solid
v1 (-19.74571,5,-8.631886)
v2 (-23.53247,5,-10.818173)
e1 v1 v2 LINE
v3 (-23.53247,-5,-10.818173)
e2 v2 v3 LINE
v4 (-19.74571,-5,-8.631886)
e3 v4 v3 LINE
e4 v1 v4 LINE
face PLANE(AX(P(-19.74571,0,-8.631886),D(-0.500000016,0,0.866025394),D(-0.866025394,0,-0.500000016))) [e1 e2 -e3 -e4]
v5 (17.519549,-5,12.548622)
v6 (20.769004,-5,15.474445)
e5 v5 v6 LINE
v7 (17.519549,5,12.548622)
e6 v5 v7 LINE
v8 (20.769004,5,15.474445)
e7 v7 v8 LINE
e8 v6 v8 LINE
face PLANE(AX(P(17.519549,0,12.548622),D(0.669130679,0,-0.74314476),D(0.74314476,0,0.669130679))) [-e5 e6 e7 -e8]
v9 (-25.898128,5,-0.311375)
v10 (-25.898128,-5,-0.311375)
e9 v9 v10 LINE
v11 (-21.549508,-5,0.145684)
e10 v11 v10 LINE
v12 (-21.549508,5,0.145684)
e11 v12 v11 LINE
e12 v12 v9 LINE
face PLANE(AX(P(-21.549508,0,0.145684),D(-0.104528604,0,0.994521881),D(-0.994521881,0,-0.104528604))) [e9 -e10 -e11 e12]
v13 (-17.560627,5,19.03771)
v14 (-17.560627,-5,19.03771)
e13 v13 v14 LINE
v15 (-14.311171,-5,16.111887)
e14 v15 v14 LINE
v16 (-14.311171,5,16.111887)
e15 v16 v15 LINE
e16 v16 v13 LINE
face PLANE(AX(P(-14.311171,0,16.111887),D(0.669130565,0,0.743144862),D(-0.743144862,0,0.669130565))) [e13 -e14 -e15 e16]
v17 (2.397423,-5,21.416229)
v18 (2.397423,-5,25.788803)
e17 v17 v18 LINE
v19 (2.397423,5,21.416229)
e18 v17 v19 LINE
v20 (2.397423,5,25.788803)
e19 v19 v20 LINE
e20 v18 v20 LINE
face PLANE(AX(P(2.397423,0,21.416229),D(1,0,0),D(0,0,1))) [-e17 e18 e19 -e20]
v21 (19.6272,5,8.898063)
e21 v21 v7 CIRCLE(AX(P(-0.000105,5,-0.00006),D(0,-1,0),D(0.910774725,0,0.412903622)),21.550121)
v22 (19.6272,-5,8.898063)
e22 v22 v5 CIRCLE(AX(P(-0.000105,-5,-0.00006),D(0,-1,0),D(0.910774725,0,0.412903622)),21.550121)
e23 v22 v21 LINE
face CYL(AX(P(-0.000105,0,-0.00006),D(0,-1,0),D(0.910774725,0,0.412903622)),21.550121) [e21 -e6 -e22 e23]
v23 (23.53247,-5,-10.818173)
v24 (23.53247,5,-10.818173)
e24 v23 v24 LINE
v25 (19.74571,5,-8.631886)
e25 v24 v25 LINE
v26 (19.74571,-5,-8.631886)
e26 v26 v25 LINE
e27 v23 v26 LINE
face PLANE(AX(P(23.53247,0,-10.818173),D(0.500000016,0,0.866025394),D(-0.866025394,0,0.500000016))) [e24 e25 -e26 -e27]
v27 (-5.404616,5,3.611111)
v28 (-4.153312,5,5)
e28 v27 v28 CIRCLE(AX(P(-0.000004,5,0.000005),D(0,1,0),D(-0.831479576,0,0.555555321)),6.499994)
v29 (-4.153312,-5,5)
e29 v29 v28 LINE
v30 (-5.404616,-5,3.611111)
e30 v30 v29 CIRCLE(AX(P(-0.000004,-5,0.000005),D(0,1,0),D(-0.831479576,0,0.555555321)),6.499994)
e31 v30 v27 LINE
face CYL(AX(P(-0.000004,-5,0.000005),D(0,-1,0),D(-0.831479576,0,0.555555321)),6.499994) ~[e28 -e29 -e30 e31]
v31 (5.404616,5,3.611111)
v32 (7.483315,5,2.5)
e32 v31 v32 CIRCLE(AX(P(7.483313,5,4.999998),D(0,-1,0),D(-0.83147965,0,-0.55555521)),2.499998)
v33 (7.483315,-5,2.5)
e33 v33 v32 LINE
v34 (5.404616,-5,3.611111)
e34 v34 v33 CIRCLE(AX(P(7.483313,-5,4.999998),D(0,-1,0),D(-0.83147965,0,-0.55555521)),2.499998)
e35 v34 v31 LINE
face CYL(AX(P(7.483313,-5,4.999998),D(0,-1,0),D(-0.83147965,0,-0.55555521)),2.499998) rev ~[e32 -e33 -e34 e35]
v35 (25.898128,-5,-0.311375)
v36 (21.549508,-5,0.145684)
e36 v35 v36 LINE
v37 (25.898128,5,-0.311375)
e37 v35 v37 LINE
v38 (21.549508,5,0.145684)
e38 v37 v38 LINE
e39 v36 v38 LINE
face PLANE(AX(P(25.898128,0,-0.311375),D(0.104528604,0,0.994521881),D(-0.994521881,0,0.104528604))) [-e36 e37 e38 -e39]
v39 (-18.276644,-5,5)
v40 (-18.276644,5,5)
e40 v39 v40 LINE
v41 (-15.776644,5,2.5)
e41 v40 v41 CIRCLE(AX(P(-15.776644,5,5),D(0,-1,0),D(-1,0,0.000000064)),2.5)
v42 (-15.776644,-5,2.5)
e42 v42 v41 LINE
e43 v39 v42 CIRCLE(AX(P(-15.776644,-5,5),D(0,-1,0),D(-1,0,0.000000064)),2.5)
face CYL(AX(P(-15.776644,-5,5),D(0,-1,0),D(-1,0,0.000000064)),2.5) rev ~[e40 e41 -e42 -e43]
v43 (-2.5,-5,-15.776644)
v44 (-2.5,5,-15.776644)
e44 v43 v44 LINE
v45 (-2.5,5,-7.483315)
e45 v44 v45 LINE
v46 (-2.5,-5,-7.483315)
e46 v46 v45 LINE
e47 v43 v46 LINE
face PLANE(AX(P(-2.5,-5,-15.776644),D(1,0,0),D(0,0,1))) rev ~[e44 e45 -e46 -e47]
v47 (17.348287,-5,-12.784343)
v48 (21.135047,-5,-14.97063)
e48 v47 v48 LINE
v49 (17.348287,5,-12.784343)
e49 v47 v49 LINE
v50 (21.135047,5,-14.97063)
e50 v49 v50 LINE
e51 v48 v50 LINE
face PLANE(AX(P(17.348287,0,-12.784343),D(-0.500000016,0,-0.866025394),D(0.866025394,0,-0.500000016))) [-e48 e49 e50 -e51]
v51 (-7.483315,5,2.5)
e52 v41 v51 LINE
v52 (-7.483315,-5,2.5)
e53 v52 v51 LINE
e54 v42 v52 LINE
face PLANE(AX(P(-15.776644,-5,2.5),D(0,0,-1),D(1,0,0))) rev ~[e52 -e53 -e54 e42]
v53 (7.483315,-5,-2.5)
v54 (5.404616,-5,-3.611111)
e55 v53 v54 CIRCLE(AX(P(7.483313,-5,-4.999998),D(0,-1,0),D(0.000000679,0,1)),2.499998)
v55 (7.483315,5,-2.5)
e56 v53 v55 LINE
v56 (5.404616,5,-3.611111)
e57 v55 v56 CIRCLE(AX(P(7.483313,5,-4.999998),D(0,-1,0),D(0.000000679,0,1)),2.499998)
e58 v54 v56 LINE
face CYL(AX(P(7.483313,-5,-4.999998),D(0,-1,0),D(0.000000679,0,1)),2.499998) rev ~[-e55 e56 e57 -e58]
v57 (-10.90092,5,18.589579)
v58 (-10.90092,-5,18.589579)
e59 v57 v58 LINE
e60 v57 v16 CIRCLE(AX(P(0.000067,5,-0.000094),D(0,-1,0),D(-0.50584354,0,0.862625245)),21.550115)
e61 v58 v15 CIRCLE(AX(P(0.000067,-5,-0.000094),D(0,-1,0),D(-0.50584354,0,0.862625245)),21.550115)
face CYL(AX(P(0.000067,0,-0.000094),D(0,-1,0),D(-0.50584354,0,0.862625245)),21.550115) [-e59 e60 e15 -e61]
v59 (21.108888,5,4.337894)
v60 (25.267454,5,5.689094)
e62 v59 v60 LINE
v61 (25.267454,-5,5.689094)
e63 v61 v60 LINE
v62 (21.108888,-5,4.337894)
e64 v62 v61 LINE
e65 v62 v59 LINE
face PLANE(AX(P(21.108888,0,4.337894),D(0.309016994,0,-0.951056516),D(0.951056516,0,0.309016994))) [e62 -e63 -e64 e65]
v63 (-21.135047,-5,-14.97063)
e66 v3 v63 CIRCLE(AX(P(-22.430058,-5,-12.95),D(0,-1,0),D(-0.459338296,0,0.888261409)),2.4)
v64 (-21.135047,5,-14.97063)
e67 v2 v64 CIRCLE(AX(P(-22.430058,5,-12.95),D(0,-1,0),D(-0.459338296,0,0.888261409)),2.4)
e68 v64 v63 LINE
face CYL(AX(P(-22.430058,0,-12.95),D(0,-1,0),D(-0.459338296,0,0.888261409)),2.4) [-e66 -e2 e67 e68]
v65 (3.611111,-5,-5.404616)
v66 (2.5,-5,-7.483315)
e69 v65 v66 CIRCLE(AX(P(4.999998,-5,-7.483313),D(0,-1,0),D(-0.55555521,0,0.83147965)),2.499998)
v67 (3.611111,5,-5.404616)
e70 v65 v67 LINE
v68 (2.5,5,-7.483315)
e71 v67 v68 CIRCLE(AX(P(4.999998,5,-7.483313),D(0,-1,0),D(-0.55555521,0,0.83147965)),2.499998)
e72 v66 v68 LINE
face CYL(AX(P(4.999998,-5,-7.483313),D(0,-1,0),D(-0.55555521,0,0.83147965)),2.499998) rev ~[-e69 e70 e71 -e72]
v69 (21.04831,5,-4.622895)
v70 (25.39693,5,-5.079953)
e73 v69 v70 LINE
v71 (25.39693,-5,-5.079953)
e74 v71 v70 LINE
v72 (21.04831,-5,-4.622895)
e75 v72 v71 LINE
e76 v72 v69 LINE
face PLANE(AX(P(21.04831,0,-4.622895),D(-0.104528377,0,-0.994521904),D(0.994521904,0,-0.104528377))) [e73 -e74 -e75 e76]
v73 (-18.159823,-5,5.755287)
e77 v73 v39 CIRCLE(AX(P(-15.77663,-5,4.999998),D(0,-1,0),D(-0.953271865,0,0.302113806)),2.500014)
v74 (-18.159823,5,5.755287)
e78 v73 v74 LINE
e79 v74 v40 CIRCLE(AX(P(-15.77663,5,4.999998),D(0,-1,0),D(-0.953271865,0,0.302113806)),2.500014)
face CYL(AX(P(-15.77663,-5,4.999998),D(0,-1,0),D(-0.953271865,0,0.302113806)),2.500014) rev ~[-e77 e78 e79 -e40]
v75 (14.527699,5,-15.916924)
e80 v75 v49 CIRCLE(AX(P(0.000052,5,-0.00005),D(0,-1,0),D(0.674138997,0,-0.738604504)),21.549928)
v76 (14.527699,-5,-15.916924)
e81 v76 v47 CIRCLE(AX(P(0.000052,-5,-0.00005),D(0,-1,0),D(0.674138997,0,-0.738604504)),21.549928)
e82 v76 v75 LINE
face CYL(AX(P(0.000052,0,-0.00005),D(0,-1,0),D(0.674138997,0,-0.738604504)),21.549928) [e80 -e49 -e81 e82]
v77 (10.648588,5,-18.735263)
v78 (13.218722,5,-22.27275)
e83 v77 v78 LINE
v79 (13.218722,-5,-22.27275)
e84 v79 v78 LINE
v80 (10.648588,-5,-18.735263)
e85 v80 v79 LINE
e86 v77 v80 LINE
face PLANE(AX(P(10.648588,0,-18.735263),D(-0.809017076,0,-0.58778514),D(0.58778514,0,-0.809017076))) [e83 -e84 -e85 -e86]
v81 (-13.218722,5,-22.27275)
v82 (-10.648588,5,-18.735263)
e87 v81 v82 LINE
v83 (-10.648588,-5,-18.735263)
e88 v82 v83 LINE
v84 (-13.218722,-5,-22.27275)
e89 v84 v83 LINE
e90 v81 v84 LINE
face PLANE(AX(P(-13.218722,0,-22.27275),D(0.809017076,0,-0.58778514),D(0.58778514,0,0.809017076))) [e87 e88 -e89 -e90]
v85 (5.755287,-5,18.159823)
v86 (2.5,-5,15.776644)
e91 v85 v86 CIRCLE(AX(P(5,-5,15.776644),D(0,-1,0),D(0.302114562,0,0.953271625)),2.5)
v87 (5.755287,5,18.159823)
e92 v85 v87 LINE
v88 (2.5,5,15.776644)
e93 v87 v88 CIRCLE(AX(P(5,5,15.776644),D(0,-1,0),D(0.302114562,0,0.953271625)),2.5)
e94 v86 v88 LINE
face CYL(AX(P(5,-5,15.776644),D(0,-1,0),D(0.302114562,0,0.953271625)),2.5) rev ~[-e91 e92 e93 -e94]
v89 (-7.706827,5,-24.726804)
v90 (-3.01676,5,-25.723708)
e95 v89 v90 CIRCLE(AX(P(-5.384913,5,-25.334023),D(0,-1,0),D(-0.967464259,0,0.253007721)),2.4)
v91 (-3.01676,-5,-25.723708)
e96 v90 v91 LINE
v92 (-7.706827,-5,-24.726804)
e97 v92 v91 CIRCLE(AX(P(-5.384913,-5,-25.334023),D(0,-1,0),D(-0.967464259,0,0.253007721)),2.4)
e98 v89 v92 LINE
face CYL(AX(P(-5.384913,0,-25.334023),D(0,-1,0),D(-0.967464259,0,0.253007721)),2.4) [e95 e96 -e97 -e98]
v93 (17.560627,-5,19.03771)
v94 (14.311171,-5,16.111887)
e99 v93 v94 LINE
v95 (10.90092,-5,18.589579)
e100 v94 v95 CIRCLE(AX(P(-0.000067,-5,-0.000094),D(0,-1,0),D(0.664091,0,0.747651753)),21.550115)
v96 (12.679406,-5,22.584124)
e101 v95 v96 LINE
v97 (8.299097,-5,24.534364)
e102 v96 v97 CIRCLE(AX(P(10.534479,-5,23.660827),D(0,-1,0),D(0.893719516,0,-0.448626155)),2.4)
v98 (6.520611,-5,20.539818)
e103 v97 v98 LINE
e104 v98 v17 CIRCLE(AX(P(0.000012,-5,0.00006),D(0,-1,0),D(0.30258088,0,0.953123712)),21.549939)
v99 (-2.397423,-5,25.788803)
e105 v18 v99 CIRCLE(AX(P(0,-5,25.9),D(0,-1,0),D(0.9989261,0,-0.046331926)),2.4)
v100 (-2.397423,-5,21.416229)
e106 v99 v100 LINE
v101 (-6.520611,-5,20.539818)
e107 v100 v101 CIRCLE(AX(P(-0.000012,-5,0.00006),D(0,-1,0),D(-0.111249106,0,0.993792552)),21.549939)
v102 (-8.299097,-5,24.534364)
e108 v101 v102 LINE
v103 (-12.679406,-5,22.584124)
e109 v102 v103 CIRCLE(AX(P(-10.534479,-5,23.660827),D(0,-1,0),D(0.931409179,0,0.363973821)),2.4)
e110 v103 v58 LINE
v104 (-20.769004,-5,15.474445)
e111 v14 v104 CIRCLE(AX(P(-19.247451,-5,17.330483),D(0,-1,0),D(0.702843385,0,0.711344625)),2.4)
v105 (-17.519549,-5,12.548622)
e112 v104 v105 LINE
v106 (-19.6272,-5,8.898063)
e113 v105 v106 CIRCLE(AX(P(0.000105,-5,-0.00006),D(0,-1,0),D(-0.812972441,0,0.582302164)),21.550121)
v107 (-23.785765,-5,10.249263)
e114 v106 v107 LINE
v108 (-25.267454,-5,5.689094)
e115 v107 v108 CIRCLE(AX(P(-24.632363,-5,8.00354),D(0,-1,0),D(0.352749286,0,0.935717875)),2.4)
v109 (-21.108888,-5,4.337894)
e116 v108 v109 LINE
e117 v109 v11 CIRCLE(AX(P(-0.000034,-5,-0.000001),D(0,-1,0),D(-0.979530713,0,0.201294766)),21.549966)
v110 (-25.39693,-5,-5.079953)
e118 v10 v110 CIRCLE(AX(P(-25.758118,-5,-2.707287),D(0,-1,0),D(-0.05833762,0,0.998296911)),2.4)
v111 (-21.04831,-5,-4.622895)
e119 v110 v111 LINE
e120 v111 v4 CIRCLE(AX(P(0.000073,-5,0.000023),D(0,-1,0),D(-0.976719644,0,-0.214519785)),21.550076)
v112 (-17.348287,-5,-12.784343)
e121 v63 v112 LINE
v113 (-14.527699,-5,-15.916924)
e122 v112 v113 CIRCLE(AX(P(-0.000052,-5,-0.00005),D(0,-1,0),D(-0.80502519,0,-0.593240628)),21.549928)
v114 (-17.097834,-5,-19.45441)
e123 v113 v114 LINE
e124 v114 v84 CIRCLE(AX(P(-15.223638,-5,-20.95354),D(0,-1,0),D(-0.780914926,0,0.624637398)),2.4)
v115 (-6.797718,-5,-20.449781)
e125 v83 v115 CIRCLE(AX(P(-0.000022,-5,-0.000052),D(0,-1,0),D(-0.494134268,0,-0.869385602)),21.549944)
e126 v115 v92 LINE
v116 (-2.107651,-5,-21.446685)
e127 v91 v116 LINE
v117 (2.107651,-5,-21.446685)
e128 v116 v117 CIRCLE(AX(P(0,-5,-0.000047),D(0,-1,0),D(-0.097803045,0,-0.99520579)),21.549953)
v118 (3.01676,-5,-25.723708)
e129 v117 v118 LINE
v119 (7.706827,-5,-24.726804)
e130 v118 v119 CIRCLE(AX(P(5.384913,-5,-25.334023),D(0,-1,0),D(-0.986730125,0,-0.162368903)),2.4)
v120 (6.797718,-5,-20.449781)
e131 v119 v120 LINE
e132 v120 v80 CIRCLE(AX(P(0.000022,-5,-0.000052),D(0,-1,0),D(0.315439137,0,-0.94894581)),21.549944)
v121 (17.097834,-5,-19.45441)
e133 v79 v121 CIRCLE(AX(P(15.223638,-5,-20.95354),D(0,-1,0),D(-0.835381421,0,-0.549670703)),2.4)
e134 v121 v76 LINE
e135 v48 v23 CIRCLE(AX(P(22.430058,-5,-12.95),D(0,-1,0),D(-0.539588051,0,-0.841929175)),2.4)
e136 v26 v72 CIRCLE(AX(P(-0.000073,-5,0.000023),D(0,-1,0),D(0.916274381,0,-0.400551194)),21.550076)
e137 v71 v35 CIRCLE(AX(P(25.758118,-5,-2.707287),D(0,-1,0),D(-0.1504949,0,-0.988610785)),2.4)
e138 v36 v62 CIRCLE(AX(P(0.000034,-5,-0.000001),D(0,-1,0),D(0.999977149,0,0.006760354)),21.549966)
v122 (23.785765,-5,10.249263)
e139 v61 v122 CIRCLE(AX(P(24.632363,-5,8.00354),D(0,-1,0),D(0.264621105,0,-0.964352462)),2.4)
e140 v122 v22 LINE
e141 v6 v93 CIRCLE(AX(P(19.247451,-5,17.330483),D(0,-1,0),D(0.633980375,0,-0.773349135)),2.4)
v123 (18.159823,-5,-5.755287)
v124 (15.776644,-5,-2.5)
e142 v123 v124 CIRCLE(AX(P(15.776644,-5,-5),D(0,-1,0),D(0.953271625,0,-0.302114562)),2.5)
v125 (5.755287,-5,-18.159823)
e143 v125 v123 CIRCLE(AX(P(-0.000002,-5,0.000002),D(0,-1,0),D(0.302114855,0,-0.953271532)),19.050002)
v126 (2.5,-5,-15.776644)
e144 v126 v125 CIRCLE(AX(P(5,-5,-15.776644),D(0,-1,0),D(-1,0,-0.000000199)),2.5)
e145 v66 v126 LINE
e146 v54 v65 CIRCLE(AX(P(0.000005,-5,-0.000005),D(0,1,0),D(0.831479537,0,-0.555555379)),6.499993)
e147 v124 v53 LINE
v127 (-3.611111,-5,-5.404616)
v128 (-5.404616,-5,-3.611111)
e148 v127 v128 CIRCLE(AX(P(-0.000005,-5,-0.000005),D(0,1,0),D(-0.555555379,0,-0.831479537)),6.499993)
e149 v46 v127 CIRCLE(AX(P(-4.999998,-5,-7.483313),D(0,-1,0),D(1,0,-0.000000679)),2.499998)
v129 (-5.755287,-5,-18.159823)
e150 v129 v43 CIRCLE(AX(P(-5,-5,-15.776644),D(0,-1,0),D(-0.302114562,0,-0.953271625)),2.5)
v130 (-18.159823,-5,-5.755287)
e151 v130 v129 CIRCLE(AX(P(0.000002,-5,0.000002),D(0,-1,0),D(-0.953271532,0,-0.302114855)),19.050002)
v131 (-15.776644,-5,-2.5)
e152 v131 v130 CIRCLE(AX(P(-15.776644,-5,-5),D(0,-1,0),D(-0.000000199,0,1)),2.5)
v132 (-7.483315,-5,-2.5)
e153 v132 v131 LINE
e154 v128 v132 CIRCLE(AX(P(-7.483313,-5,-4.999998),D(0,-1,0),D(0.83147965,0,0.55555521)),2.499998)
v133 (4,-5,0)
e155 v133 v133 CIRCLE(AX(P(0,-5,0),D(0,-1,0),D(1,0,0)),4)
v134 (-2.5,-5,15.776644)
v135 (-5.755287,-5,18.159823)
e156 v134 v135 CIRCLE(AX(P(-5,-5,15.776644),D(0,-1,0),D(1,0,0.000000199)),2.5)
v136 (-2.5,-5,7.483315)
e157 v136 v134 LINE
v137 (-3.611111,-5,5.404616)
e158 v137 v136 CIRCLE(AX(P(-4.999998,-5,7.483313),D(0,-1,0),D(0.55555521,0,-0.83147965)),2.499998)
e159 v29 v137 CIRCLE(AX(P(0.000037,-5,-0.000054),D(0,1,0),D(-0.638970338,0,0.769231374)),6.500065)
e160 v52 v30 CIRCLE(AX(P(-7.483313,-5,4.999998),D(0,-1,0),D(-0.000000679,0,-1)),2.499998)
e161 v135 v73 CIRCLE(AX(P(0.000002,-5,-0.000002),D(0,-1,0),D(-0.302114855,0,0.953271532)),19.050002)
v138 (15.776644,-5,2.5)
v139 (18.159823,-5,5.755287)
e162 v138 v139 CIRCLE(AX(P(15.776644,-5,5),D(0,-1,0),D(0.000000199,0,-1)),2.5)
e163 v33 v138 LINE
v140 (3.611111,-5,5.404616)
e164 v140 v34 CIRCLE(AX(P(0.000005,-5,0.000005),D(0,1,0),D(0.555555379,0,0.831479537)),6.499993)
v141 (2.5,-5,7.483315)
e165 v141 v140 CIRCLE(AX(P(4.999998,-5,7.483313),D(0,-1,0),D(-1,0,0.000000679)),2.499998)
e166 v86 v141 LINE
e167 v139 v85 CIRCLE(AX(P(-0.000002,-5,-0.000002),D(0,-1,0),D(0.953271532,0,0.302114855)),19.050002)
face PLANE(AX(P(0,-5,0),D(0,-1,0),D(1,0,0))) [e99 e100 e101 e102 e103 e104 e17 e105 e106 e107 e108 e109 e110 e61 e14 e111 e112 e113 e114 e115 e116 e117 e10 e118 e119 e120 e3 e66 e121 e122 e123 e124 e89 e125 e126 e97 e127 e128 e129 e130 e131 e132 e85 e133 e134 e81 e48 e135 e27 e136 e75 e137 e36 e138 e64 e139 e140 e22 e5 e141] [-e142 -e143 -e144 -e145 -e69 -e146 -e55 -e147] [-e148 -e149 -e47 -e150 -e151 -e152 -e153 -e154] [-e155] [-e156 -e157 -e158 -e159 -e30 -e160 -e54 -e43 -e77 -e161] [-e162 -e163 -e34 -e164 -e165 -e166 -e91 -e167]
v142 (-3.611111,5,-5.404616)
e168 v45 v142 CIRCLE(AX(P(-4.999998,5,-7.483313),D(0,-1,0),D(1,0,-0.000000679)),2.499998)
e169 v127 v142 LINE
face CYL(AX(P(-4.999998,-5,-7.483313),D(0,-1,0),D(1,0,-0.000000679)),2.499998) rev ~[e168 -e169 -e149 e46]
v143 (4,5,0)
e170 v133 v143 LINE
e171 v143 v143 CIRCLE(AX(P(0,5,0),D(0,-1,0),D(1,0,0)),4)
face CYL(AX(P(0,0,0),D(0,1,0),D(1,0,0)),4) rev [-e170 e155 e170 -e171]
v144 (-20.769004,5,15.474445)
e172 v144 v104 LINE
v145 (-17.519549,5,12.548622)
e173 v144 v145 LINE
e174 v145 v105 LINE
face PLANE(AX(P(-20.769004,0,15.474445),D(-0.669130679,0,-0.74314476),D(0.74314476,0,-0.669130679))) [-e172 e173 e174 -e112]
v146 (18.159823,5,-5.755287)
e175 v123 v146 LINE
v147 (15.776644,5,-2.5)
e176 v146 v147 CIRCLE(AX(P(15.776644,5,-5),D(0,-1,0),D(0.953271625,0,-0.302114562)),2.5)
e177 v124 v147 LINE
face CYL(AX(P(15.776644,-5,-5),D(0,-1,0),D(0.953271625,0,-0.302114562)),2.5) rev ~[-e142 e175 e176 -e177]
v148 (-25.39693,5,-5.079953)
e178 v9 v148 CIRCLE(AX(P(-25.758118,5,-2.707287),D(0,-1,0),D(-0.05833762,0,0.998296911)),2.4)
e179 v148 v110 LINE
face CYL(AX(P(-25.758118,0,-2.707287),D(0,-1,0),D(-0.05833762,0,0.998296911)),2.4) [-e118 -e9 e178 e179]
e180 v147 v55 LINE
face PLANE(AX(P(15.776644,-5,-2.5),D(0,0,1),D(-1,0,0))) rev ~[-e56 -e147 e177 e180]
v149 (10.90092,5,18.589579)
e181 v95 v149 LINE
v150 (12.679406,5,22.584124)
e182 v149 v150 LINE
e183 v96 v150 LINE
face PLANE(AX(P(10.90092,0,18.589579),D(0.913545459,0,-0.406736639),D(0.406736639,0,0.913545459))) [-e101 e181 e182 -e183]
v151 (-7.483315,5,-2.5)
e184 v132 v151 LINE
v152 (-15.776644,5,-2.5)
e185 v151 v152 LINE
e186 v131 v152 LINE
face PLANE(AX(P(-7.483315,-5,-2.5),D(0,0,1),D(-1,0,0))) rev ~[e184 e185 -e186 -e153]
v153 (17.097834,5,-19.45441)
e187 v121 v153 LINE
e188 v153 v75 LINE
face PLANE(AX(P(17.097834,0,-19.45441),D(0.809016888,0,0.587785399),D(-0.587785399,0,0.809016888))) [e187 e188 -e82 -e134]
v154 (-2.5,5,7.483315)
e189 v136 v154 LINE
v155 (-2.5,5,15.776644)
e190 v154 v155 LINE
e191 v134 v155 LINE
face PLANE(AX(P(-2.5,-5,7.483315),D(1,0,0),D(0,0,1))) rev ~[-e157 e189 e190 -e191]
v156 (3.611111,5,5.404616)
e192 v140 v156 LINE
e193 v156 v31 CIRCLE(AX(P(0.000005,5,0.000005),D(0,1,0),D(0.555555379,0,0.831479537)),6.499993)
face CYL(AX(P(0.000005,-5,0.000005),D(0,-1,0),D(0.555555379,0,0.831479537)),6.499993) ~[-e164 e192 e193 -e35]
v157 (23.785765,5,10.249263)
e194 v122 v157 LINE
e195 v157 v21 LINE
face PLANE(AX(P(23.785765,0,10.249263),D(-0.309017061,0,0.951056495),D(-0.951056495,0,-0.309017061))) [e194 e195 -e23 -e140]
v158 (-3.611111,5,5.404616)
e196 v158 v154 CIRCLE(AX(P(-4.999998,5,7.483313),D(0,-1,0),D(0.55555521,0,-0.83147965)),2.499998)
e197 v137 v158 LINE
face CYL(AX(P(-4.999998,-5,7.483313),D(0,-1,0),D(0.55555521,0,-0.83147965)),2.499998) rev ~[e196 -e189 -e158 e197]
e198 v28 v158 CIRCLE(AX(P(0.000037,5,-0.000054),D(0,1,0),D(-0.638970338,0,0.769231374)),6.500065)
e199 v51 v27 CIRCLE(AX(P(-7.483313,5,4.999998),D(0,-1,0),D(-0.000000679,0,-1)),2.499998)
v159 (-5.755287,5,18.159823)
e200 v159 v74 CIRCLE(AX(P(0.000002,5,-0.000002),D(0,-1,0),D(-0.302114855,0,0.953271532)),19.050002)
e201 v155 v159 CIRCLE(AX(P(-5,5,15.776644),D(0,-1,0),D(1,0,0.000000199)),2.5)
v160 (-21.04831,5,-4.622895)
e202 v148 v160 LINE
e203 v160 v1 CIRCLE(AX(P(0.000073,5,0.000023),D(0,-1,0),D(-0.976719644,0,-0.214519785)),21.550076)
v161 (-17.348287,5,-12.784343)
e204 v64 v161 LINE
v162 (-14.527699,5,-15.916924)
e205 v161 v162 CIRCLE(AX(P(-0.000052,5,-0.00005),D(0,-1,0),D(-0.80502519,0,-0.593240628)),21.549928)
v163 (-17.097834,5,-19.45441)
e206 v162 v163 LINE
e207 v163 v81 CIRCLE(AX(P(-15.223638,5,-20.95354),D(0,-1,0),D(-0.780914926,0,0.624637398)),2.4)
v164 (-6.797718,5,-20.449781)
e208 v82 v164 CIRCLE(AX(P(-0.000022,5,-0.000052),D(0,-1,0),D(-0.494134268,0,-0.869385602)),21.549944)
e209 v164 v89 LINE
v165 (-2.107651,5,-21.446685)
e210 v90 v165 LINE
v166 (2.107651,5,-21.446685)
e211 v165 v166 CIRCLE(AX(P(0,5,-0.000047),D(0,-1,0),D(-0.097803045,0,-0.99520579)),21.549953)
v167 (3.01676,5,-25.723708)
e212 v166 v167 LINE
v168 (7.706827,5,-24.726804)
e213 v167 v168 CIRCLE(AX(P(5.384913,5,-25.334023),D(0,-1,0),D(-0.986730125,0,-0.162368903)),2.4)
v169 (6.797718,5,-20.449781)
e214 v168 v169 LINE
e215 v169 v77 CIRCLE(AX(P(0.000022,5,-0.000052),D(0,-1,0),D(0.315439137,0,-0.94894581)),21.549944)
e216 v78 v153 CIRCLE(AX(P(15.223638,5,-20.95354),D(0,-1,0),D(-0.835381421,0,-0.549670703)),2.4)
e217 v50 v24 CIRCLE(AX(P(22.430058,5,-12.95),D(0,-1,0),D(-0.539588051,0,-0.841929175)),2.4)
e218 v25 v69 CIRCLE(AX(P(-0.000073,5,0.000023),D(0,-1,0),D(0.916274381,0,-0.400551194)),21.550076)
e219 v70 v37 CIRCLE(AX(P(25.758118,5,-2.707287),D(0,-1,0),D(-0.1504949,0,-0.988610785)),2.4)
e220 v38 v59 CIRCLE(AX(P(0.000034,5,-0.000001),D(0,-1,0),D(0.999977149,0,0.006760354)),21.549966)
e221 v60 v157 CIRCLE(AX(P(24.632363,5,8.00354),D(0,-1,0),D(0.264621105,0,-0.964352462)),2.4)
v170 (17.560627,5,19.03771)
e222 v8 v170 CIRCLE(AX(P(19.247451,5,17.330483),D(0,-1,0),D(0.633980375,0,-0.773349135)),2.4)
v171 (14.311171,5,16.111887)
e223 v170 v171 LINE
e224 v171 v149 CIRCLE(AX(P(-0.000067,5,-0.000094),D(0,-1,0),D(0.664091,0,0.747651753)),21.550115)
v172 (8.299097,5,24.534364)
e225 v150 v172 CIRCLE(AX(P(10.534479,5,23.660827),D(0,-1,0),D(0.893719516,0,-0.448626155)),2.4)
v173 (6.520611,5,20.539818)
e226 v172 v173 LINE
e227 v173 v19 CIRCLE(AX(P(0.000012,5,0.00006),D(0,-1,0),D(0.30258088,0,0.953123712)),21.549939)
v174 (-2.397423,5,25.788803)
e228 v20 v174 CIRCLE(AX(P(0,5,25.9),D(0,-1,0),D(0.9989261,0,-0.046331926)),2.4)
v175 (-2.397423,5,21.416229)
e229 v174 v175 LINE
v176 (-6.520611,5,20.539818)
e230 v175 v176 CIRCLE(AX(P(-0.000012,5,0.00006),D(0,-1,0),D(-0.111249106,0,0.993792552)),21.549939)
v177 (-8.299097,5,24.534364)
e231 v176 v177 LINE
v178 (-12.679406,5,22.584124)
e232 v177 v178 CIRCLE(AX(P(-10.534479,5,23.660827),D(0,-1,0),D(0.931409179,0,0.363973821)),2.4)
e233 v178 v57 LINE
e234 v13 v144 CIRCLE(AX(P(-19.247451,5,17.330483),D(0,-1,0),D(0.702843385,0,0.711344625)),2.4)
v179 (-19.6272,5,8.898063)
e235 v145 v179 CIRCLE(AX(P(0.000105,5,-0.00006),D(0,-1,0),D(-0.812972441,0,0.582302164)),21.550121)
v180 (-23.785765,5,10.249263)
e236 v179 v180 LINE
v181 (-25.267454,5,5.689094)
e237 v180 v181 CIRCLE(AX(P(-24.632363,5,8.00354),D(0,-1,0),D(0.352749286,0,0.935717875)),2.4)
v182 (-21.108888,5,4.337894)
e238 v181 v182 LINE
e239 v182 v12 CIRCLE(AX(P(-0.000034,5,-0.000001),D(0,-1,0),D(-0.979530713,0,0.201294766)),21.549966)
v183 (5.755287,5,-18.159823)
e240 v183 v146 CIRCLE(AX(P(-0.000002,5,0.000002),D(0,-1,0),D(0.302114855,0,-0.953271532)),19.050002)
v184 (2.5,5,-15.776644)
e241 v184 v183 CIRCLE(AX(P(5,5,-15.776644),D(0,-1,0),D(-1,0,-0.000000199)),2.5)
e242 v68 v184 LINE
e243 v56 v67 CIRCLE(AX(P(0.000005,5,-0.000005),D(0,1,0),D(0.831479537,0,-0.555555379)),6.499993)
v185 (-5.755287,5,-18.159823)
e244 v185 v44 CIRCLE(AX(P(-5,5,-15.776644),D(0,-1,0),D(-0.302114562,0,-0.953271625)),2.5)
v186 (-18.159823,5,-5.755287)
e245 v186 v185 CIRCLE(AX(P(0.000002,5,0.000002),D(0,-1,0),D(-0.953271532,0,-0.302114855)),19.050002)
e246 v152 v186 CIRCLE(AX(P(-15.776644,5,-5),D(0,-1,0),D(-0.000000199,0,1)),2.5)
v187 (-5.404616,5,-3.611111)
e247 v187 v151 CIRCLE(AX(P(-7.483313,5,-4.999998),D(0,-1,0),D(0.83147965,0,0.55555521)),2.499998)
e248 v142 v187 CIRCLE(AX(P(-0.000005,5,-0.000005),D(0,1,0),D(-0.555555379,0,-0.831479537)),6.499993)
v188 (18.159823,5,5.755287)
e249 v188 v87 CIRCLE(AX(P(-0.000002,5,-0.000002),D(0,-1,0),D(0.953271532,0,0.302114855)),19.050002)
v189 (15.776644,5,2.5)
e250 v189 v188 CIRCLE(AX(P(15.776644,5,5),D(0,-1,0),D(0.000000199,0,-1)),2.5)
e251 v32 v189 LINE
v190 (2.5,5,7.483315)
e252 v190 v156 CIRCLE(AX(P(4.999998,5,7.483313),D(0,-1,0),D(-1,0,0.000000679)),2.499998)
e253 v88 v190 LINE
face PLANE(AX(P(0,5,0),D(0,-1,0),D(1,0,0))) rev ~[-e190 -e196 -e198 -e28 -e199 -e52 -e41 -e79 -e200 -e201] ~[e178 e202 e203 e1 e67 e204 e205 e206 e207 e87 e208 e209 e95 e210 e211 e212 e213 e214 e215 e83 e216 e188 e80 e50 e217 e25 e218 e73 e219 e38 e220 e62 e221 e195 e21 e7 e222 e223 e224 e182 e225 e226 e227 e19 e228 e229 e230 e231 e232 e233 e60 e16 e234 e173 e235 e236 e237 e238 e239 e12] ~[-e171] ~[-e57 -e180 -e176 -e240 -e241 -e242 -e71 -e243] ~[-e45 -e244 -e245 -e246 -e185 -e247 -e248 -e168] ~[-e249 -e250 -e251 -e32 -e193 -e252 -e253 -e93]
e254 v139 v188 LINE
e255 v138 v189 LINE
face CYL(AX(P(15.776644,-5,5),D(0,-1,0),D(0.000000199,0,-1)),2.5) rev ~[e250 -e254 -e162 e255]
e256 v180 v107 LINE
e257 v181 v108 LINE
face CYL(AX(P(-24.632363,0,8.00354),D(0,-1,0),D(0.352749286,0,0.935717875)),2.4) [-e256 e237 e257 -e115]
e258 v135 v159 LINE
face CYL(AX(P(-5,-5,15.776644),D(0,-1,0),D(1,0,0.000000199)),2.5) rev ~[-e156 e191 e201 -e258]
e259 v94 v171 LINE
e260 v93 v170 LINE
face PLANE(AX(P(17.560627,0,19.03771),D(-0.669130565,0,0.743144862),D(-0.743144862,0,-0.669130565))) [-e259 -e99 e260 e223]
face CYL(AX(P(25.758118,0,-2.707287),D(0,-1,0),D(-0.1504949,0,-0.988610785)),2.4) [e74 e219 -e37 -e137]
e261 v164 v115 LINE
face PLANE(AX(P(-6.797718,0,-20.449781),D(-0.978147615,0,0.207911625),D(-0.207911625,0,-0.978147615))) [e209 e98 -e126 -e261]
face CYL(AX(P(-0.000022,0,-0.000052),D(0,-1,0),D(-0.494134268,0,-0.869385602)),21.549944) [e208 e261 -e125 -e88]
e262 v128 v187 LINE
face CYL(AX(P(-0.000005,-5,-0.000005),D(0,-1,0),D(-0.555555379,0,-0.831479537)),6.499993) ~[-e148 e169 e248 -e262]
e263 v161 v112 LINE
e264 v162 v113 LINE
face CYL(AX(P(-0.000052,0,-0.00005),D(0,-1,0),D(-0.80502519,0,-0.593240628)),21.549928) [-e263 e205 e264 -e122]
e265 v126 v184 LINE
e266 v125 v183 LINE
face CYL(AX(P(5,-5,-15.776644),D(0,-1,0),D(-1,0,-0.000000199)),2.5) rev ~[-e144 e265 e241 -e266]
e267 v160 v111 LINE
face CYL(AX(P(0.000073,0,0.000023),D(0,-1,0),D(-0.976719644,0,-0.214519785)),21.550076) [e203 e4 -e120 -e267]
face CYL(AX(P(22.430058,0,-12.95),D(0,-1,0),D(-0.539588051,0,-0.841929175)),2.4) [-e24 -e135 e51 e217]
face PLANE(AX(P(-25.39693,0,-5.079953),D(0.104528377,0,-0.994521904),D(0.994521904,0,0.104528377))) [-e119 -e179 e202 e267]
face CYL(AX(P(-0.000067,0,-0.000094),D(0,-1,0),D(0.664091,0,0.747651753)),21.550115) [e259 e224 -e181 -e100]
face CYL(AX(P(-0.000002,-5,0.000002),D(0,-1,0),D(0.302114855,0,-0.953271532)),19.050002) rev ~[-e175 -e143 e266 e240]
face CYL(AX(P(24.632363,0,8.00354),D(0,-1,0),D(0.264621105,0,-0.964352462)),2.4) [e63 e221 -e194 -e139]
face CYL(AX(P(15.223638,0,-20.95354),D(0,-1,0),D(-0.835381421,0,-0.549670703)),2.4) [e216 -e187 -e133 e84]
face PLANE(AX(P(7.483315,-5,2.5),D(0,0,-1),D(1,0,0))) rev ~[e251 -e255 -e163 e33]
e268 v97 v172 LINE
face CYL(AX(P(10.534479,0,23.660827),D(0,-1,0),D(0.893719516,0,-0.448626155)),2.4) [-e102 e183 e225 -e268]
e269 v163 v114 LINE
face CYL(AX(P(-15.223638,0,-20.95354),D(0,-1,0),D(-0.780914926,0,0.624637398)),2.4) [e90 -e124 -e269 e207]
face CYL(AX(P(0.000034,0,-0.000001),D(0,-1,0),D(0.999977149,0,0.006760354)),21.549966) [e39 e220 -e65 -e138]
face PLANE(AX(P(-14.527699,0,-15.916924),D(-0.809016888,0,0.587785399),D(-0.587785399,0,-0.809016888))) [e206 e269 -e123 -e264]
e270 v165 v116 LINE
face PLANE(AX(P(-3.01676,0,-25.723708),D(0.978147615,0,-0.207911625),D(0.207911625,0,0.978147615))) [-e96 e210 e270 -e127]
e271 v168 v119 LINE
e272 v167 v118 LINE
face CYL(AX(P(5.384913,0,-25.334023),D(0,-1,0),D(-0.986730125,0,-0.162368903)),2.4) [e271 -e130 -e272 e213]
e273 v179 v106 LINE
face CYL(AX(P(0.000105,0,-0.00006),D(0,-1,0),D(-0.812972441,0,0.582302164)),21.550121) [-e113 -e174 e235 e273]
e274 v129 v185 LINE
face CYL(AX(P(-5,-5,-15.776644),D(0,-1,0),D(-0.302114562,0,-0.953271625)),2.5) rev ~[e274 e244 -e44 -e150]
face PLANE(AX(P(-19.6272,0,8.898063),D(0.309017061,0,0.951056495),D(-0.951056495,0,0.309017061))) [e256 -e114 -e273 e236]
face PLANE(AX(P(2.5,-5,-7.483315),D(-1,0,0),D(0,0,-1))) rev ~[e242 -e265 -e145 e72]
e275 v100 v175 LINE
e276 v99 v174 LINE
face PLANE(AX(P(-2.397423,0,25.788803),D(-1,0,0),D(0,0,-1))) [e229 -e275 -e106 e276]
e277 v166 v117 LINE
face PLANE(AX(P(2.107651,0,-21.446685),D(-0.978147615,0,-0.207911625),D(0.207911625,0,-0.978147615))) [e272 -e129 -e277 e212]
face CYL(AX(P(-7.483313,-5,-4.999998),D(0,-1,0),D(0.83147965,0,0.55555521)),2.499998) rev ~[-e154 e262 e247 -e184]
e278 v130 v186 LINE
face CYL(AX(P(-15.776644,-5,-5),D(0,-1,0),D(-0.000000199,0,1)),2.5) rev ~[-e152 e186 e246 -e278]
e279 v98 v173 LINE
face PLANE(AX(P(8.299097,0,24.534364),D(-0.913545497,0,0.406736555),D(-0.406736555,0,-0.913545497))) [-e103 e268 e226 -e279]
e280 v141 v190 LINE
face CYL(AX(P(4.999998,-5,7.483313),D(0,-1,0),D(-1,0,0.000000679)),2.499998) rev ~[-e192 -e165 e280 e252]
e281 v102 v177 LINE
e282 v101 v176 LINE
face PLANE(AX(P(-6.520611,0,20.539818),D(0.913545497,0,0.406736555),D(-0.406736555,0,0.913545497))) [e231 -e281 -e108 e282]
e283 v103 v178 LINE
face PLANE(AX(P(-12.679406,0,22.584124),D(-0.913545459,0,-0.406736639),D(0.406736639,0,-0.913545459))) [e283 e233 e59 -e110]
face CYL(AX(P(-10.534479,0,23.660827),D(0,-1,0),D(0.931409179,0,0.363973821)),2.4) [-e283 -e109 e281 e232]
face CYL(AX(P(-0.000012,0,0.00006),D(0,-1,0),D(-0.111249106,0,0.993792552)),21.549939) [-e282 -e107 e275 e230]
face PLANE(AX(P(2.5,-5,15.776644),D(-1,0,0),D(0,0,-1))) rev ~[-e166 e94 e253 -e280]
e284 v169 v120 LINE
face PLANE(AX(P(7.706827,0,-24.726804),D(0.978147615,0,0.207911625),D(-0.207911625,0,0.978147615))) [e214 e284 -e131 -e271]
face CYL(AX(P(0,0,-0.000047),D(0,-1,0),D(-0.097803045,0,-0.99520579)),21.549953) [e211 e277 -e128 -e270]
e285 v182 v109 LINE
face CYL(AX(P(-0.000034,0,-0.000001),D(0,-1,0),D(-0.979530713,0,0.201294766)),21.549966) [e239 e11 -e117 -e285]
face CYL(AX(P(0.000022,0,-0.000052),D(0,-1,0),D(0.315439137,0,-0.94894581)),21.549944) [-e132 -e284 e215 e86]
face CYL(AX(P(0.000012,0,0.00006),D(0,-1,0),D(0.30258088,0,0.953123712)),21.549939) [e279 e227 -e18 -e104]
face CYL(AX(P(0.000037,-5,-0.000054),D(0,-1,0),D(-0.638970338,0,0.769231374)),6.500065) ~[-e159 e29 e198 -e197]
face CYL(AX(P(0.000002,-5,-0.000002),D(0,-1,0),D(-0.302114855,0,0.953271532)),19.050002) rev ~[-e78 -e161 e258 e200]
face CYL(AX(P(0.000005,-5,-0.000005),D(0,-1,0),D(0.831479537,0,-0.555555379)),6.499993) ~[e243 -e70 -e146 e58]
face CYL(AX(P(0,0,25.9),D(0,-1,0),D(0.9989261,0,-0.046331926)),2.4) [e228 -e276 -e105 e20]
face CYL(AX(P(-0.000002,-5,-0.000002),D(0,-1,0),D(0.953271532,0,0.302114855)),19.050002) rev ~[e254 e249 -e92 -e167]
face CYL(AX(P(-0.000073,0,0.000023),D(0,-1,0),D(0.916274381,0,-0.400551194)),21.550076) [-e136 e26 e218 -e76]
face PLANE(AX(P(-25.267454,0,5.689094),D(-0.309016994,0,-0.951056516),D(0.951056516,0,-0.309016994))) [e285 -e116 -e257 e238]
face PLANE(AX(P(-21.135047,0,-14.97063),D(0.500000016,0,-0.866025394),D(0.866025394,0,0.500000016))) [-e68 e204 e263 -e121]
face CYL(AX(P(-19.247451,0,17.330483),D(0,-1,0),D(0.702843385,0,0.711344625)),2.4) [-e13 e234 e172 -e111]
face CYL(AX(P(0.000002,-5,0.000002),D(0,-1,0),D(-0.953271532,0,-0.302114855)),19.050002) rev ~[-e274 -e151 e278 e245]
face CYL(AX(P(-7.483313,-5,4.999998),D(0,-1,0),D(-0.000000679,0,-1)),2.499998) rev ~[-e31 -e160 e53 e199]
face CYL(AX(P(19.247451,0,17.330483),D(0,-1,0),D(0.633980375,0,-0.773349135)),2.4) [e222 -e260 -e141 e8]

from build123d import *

# Parameters (mm, degrees)
F0_R     = 4
F1_DEPTH = 5
F3_DEPTH = 10


with BuildPart() as f1:
    # F0 (on Front) → F1 (new body, symmetric)
    with BuildSketch(Plane.XZ):
        with BuildLine():
            Line((-12.679406, 22.584124), (-10.90092, 18.589579))
            ThreePointArc((-10.90092, 18.589579), (-12.666772, 17.434316), (-14.311171, 16.111887))
            Line((-14.311171, 16.111887), (-17.560627, 19.03771))
            ThreePointArc((-17.560627, 19.03771), (-21.030999, 18.936396), (-20.769004, 15.474445))
            Line((-20.769004, 15.474445), (-17.519549, 12.548622))
            ThreePointArc((-17.519549, 12.548622), (-18.662847, 10.775), (-19.6272, 8.898063))
            Line((-19.6272, 8.898063), (-23.785765, 10.249263))
            ThreePointArc((-23.785765, 10.249263), (-26.914899, 8.745181), (-25.267454, 5.689094))
            Line((-25.267454, 5.689094), (-21.108888, 4.337894))
            ThreePointArc((-21.108888, 4.337894), (-21.431947, 2.252588), (-21.549508, 0.145684))
            Line((-21.549508, 0.145684), (-25.898128, -0.311375))
            ThreePointArc((-25.898128, -0.311375), (-28.14497, -2.958156), (-25.39693, -5.079953))
            Line((-25.39693, -5.079953), (-21.04831, -4.622895))
            ThreePointArc((-21.04831, -4.622895), (-20.495268, -6.659316), (-19.74571, -8.631886))
            Line((-19.74571, -8.631886), (-23.53247, -10.818173))
            ThreePointArc((-23.53247, -10.818173), (-24.508519, -14.15), (-21.135047, -14.97063))
            Line((-21.135047, -14.97063), (-17.348287, -12.784343))
            ThreePointArc((-17.348287, -12.784343), (-16.014771, -14.419765), (-14.527699, -15.916924))
            Line((-14.527699, -15.916924), (-17.097834, -19.45441))
            ThreePointArc((-17.097834, -19.45441), (-16.634323, -22.895181), (-13.218722, -22.27275))
            Line((-13.218722, -22.27275), (-10.648588, -18.735263))
            ThreePointArc((-10.648588, -18.735263), (-8.765175, -19.686905), (-6.797718, -20.449781))
            Line((-6.797718, -20.449781), (-7.706827, -24.726804))
            ThreePointArc((-7.706827, -24.726804), (-5.883901, -27.681577), (-3.01676, -25.723708))
            Line((-3.01676, -25.723708), (-2.107651, -21.446685))
            ThreePointArc((-2.107651, -21.446685), (0, -21.55), (2.107651, -21.446685))
            Line((2.107651, -21.446685), (3.01676, -25.723708))
            ThreePointArc((3.01676, -25.723708), (5.883901, -27.681577), (7.706827, -24.726804))
            Line((7.706827, -24.726804), (6.797718, -20.449781))
            ThreePointArc((6.797718, -20.449781), (8.765175, -19.686905), (10.648588, -18.735263))
            Line((10.648588, -18.735263), (13.218722, -22.27275))
            ThreePointArc((13.218722, -22.27275), (16.634323, -22.895181), (17.097834, -19.45441))
            Line((17.097834, -19.45441), (14.527699, -15.916924))
            ThreePointArc((14.527699, -15.916924), (16.014771, -14.419765), (17.348287, -12.784343))
            Line((17.348287, -12.784343), (21.135047, -14.97063))
            ThreePointArc((21.135047, -14.97063), (24.508519, -14.15), (23.53247, -10.818173))
            Line((23.53247, -10.818173), (19.74571, -8.631886))
            ThreePointArc((19.74571, -8.631886), (20.495268, -6.659316), (21.04831, -4.622895))
            Line((21.04831, -4.622895), (25.39693, -5.079953))
            ThreePointArc((25.39693, -5.079953), (28.14497, -2.958156), (25.898128, -0.311375))
            Line((25.898128, -0.311375), (21.549508, 0.145684))
            ThreePointArc((21.549508, 0.145684), (21.431947, 2.252588), (21.108888, 4.337894))
            Line((21.108888, 4.337894), (25.267454, 5.689094))
            ThreePointArc((25.267454, 5.689094), (26.914899, 8.745181), (23.785765, 10.249263))
            Line((23.785765, 10.249263), (19.6272, 8.898063))
            ThreePointArc((19.6272, 8.898063), (18.662847, 10.775), (17.519549, 12.548622))
            Line((17.519549, 12.548622), (20.769004, 15.474445))
            ThreePointArc((20.769004, 15.474445), (21.030999, 18.936396), (17.560627, 19.03771))
            Line((17.560627, 19.03771), (14.311171, 16.111887))
            ThreePointArc((14.311171, 16.111887), (12.666772, 17.434316), (10.90092, 18.589579))
            Line((10.90092, 18.589579), (12.679406, 22.584124))
            ThreePointArc((12.679406, 22.584124), (11.510647, 25.853336), (8.299097, 24.534364))
            Line((8.299097, 24.534364), (6.520611, 20.539818))
            ThreePointArc((6.520611, 20.539818), (4.480497, 21.079081), (2.397423, 21.416229))
            Line((2.397423, 21.416229), (2.397423, 25.788803))
            ThreePointArc((2.397423, 25.788803), (0, 28.3), (-2.397423, 25.788803))
            Line((-2.397423, 25.788803), (-2.397423, 21.416229))
            ThreePointArc((-2.397423, 21.416229), (-4.480497, 21.079081), (-6.520611, 20.539818))
            Line((-6.520611, 20.539818), (-8.299097, 24.534364))
            ThreePointArc((-8.299097, 24.534364), (-11.510647, 25.853336), (-12.679406, 22.584124))
        make_face()
        Circle(F0_R, mode=Mode.SUBTRACT)
    extrude(amount=F1_DEPTH, both=True)

    # F2 (on face) → F3 (cut)
    with BuildSketch(Plane.XZ.offset(5)):
        with BuildLine():
            ThreePointArc((-5.755287, 18.159823), (-13.470384, 13.470384), (-18.159823, 5.755287))
            ThreePointArc((-18.159823, 5.755287), (-18.247266, 5.382134), (-18.276644, 5))
            Line((-18.276644, 5), (-4.153312, 5))
            ThreePointArc((-4.153312, 5), (-3.887479, 5.209367), (-3.611111, 5.404616))
            ThreePointArc((-3.611111, 5.404616), (-2.795207, 6.304803), (-2.5, 7.483315))
            Line((-2.5, 7.483315), (-2.5, 15.776644))
            ThreePointArc((-2.5, 15.776644), (-3.523216, 17.793847), (-5.755287, 18.159823))
        make_face()
        with BuildLine():
            Line((-4.153312, 5), (-18.276644, 5))
            ThreePointArc((-18.276644, 5), (-17.544411, 3.232233), (-15.776644, 2.5))
            Line((-15.776644, 2.5), (-7.483315, 2.5))
            ThreePointArc((-7.483315, 2.5), (-6.304803, 2.795207), (-5.404616, 3.611111))
            ThreePointArc((-5.404616, 3.611111), (-4.829156, 4.350776), (-4.153312, 5))
        make_face()
        with BuildLine():
            ThreePointArc((5.755287, 18.159823), (3.523216, 17.793847), (2.5, 15.776644))
            Line((2.5, 15.776644), (2.5, 7.483315))
            ThreePointArc((2.5, 7.483315), (2.795207, 6.304803), (3.611111, 5.404616))
            ThreePointArc((3.611111, 5.404616), (4.596194, 4.596194), (5.404616, 3.611111))
            ThreePointArc((5.404616, 3.611111), (6.304803, 2.795207), (7.483315, 2.5))
            Line((7.483315, 2.5), (15.776644, 2.5))
            ThreePointArc((15.776644, 2.5), (17.793847, 3.523216), (18.159823, 5.755287))
            ThreePointArc((18.159823, 5.755287), (13.470384, 13.470384), (5.755287, 18.159823))
        make_face()
        with BuildLine():
            Line((-7.483315, -2.5), (-15.776644, -2.5))
            ThreePointArc((-15.776644, -2.5), (-17.793847, -3.523216), (-18.159823, -5.755287))
            ThreePointArc((-18.159823, -5.755287), (-13.470384, -13.470384), (-5.755287, -18.159823))
            ThreePointArc((-5.755287, -18.159823), (-3.523216, -17.793847), (-2.5, -15.776644))
            Line((-2.5, -15.776644), (-2.5, -7.483315))
            ThreePointArc((-2.5, -7.483315), (-2.795207, -6.304803), (-3.611111, -5.404616))
            ThreePointArc((-3.611111, -5.404616), (-4.596194, -4.596194), (-5.404616, -3.611111))
            ThreePointArc((-5.404616, -3.611111), (-6.304803, -2.795207), (-7.483315, -2.5))
        make_face()
        with BuildLine():
            ThreePointArc((5.404616, -3.611111), (4.596194, -4.596194), (3.611111, -5.404616))
            ThreePointArc((3.611111, -5.404616), (2.795207, -6.304803), (2.5, -7.483315))
            Line((2.5, -7.483315), (2.5, -15.776644))
            ThreePointArc((2.5, -15.776644), (3.523216, -17.793847), (5.755287, -18.159823))
            ThreePointArc((5.755287, -18.159823), (13.470384, -13.470384), (18.159823, -5.755287))
            ThreePointArc((18.159823, -5.755287), (17.793847, -3.523216), (15.776644, -2.5))
            Line((15.776644, -2.5), (7.483315, -2.5))
            ThreePointArc((7.483315, -2.5), (6.304803, -2.795207), (5.404616, -3.611111))
        make_face()
    extrude(amount=-F3_DEPTH, mode=Mode.SUBTRACT)


solid = f1.part
